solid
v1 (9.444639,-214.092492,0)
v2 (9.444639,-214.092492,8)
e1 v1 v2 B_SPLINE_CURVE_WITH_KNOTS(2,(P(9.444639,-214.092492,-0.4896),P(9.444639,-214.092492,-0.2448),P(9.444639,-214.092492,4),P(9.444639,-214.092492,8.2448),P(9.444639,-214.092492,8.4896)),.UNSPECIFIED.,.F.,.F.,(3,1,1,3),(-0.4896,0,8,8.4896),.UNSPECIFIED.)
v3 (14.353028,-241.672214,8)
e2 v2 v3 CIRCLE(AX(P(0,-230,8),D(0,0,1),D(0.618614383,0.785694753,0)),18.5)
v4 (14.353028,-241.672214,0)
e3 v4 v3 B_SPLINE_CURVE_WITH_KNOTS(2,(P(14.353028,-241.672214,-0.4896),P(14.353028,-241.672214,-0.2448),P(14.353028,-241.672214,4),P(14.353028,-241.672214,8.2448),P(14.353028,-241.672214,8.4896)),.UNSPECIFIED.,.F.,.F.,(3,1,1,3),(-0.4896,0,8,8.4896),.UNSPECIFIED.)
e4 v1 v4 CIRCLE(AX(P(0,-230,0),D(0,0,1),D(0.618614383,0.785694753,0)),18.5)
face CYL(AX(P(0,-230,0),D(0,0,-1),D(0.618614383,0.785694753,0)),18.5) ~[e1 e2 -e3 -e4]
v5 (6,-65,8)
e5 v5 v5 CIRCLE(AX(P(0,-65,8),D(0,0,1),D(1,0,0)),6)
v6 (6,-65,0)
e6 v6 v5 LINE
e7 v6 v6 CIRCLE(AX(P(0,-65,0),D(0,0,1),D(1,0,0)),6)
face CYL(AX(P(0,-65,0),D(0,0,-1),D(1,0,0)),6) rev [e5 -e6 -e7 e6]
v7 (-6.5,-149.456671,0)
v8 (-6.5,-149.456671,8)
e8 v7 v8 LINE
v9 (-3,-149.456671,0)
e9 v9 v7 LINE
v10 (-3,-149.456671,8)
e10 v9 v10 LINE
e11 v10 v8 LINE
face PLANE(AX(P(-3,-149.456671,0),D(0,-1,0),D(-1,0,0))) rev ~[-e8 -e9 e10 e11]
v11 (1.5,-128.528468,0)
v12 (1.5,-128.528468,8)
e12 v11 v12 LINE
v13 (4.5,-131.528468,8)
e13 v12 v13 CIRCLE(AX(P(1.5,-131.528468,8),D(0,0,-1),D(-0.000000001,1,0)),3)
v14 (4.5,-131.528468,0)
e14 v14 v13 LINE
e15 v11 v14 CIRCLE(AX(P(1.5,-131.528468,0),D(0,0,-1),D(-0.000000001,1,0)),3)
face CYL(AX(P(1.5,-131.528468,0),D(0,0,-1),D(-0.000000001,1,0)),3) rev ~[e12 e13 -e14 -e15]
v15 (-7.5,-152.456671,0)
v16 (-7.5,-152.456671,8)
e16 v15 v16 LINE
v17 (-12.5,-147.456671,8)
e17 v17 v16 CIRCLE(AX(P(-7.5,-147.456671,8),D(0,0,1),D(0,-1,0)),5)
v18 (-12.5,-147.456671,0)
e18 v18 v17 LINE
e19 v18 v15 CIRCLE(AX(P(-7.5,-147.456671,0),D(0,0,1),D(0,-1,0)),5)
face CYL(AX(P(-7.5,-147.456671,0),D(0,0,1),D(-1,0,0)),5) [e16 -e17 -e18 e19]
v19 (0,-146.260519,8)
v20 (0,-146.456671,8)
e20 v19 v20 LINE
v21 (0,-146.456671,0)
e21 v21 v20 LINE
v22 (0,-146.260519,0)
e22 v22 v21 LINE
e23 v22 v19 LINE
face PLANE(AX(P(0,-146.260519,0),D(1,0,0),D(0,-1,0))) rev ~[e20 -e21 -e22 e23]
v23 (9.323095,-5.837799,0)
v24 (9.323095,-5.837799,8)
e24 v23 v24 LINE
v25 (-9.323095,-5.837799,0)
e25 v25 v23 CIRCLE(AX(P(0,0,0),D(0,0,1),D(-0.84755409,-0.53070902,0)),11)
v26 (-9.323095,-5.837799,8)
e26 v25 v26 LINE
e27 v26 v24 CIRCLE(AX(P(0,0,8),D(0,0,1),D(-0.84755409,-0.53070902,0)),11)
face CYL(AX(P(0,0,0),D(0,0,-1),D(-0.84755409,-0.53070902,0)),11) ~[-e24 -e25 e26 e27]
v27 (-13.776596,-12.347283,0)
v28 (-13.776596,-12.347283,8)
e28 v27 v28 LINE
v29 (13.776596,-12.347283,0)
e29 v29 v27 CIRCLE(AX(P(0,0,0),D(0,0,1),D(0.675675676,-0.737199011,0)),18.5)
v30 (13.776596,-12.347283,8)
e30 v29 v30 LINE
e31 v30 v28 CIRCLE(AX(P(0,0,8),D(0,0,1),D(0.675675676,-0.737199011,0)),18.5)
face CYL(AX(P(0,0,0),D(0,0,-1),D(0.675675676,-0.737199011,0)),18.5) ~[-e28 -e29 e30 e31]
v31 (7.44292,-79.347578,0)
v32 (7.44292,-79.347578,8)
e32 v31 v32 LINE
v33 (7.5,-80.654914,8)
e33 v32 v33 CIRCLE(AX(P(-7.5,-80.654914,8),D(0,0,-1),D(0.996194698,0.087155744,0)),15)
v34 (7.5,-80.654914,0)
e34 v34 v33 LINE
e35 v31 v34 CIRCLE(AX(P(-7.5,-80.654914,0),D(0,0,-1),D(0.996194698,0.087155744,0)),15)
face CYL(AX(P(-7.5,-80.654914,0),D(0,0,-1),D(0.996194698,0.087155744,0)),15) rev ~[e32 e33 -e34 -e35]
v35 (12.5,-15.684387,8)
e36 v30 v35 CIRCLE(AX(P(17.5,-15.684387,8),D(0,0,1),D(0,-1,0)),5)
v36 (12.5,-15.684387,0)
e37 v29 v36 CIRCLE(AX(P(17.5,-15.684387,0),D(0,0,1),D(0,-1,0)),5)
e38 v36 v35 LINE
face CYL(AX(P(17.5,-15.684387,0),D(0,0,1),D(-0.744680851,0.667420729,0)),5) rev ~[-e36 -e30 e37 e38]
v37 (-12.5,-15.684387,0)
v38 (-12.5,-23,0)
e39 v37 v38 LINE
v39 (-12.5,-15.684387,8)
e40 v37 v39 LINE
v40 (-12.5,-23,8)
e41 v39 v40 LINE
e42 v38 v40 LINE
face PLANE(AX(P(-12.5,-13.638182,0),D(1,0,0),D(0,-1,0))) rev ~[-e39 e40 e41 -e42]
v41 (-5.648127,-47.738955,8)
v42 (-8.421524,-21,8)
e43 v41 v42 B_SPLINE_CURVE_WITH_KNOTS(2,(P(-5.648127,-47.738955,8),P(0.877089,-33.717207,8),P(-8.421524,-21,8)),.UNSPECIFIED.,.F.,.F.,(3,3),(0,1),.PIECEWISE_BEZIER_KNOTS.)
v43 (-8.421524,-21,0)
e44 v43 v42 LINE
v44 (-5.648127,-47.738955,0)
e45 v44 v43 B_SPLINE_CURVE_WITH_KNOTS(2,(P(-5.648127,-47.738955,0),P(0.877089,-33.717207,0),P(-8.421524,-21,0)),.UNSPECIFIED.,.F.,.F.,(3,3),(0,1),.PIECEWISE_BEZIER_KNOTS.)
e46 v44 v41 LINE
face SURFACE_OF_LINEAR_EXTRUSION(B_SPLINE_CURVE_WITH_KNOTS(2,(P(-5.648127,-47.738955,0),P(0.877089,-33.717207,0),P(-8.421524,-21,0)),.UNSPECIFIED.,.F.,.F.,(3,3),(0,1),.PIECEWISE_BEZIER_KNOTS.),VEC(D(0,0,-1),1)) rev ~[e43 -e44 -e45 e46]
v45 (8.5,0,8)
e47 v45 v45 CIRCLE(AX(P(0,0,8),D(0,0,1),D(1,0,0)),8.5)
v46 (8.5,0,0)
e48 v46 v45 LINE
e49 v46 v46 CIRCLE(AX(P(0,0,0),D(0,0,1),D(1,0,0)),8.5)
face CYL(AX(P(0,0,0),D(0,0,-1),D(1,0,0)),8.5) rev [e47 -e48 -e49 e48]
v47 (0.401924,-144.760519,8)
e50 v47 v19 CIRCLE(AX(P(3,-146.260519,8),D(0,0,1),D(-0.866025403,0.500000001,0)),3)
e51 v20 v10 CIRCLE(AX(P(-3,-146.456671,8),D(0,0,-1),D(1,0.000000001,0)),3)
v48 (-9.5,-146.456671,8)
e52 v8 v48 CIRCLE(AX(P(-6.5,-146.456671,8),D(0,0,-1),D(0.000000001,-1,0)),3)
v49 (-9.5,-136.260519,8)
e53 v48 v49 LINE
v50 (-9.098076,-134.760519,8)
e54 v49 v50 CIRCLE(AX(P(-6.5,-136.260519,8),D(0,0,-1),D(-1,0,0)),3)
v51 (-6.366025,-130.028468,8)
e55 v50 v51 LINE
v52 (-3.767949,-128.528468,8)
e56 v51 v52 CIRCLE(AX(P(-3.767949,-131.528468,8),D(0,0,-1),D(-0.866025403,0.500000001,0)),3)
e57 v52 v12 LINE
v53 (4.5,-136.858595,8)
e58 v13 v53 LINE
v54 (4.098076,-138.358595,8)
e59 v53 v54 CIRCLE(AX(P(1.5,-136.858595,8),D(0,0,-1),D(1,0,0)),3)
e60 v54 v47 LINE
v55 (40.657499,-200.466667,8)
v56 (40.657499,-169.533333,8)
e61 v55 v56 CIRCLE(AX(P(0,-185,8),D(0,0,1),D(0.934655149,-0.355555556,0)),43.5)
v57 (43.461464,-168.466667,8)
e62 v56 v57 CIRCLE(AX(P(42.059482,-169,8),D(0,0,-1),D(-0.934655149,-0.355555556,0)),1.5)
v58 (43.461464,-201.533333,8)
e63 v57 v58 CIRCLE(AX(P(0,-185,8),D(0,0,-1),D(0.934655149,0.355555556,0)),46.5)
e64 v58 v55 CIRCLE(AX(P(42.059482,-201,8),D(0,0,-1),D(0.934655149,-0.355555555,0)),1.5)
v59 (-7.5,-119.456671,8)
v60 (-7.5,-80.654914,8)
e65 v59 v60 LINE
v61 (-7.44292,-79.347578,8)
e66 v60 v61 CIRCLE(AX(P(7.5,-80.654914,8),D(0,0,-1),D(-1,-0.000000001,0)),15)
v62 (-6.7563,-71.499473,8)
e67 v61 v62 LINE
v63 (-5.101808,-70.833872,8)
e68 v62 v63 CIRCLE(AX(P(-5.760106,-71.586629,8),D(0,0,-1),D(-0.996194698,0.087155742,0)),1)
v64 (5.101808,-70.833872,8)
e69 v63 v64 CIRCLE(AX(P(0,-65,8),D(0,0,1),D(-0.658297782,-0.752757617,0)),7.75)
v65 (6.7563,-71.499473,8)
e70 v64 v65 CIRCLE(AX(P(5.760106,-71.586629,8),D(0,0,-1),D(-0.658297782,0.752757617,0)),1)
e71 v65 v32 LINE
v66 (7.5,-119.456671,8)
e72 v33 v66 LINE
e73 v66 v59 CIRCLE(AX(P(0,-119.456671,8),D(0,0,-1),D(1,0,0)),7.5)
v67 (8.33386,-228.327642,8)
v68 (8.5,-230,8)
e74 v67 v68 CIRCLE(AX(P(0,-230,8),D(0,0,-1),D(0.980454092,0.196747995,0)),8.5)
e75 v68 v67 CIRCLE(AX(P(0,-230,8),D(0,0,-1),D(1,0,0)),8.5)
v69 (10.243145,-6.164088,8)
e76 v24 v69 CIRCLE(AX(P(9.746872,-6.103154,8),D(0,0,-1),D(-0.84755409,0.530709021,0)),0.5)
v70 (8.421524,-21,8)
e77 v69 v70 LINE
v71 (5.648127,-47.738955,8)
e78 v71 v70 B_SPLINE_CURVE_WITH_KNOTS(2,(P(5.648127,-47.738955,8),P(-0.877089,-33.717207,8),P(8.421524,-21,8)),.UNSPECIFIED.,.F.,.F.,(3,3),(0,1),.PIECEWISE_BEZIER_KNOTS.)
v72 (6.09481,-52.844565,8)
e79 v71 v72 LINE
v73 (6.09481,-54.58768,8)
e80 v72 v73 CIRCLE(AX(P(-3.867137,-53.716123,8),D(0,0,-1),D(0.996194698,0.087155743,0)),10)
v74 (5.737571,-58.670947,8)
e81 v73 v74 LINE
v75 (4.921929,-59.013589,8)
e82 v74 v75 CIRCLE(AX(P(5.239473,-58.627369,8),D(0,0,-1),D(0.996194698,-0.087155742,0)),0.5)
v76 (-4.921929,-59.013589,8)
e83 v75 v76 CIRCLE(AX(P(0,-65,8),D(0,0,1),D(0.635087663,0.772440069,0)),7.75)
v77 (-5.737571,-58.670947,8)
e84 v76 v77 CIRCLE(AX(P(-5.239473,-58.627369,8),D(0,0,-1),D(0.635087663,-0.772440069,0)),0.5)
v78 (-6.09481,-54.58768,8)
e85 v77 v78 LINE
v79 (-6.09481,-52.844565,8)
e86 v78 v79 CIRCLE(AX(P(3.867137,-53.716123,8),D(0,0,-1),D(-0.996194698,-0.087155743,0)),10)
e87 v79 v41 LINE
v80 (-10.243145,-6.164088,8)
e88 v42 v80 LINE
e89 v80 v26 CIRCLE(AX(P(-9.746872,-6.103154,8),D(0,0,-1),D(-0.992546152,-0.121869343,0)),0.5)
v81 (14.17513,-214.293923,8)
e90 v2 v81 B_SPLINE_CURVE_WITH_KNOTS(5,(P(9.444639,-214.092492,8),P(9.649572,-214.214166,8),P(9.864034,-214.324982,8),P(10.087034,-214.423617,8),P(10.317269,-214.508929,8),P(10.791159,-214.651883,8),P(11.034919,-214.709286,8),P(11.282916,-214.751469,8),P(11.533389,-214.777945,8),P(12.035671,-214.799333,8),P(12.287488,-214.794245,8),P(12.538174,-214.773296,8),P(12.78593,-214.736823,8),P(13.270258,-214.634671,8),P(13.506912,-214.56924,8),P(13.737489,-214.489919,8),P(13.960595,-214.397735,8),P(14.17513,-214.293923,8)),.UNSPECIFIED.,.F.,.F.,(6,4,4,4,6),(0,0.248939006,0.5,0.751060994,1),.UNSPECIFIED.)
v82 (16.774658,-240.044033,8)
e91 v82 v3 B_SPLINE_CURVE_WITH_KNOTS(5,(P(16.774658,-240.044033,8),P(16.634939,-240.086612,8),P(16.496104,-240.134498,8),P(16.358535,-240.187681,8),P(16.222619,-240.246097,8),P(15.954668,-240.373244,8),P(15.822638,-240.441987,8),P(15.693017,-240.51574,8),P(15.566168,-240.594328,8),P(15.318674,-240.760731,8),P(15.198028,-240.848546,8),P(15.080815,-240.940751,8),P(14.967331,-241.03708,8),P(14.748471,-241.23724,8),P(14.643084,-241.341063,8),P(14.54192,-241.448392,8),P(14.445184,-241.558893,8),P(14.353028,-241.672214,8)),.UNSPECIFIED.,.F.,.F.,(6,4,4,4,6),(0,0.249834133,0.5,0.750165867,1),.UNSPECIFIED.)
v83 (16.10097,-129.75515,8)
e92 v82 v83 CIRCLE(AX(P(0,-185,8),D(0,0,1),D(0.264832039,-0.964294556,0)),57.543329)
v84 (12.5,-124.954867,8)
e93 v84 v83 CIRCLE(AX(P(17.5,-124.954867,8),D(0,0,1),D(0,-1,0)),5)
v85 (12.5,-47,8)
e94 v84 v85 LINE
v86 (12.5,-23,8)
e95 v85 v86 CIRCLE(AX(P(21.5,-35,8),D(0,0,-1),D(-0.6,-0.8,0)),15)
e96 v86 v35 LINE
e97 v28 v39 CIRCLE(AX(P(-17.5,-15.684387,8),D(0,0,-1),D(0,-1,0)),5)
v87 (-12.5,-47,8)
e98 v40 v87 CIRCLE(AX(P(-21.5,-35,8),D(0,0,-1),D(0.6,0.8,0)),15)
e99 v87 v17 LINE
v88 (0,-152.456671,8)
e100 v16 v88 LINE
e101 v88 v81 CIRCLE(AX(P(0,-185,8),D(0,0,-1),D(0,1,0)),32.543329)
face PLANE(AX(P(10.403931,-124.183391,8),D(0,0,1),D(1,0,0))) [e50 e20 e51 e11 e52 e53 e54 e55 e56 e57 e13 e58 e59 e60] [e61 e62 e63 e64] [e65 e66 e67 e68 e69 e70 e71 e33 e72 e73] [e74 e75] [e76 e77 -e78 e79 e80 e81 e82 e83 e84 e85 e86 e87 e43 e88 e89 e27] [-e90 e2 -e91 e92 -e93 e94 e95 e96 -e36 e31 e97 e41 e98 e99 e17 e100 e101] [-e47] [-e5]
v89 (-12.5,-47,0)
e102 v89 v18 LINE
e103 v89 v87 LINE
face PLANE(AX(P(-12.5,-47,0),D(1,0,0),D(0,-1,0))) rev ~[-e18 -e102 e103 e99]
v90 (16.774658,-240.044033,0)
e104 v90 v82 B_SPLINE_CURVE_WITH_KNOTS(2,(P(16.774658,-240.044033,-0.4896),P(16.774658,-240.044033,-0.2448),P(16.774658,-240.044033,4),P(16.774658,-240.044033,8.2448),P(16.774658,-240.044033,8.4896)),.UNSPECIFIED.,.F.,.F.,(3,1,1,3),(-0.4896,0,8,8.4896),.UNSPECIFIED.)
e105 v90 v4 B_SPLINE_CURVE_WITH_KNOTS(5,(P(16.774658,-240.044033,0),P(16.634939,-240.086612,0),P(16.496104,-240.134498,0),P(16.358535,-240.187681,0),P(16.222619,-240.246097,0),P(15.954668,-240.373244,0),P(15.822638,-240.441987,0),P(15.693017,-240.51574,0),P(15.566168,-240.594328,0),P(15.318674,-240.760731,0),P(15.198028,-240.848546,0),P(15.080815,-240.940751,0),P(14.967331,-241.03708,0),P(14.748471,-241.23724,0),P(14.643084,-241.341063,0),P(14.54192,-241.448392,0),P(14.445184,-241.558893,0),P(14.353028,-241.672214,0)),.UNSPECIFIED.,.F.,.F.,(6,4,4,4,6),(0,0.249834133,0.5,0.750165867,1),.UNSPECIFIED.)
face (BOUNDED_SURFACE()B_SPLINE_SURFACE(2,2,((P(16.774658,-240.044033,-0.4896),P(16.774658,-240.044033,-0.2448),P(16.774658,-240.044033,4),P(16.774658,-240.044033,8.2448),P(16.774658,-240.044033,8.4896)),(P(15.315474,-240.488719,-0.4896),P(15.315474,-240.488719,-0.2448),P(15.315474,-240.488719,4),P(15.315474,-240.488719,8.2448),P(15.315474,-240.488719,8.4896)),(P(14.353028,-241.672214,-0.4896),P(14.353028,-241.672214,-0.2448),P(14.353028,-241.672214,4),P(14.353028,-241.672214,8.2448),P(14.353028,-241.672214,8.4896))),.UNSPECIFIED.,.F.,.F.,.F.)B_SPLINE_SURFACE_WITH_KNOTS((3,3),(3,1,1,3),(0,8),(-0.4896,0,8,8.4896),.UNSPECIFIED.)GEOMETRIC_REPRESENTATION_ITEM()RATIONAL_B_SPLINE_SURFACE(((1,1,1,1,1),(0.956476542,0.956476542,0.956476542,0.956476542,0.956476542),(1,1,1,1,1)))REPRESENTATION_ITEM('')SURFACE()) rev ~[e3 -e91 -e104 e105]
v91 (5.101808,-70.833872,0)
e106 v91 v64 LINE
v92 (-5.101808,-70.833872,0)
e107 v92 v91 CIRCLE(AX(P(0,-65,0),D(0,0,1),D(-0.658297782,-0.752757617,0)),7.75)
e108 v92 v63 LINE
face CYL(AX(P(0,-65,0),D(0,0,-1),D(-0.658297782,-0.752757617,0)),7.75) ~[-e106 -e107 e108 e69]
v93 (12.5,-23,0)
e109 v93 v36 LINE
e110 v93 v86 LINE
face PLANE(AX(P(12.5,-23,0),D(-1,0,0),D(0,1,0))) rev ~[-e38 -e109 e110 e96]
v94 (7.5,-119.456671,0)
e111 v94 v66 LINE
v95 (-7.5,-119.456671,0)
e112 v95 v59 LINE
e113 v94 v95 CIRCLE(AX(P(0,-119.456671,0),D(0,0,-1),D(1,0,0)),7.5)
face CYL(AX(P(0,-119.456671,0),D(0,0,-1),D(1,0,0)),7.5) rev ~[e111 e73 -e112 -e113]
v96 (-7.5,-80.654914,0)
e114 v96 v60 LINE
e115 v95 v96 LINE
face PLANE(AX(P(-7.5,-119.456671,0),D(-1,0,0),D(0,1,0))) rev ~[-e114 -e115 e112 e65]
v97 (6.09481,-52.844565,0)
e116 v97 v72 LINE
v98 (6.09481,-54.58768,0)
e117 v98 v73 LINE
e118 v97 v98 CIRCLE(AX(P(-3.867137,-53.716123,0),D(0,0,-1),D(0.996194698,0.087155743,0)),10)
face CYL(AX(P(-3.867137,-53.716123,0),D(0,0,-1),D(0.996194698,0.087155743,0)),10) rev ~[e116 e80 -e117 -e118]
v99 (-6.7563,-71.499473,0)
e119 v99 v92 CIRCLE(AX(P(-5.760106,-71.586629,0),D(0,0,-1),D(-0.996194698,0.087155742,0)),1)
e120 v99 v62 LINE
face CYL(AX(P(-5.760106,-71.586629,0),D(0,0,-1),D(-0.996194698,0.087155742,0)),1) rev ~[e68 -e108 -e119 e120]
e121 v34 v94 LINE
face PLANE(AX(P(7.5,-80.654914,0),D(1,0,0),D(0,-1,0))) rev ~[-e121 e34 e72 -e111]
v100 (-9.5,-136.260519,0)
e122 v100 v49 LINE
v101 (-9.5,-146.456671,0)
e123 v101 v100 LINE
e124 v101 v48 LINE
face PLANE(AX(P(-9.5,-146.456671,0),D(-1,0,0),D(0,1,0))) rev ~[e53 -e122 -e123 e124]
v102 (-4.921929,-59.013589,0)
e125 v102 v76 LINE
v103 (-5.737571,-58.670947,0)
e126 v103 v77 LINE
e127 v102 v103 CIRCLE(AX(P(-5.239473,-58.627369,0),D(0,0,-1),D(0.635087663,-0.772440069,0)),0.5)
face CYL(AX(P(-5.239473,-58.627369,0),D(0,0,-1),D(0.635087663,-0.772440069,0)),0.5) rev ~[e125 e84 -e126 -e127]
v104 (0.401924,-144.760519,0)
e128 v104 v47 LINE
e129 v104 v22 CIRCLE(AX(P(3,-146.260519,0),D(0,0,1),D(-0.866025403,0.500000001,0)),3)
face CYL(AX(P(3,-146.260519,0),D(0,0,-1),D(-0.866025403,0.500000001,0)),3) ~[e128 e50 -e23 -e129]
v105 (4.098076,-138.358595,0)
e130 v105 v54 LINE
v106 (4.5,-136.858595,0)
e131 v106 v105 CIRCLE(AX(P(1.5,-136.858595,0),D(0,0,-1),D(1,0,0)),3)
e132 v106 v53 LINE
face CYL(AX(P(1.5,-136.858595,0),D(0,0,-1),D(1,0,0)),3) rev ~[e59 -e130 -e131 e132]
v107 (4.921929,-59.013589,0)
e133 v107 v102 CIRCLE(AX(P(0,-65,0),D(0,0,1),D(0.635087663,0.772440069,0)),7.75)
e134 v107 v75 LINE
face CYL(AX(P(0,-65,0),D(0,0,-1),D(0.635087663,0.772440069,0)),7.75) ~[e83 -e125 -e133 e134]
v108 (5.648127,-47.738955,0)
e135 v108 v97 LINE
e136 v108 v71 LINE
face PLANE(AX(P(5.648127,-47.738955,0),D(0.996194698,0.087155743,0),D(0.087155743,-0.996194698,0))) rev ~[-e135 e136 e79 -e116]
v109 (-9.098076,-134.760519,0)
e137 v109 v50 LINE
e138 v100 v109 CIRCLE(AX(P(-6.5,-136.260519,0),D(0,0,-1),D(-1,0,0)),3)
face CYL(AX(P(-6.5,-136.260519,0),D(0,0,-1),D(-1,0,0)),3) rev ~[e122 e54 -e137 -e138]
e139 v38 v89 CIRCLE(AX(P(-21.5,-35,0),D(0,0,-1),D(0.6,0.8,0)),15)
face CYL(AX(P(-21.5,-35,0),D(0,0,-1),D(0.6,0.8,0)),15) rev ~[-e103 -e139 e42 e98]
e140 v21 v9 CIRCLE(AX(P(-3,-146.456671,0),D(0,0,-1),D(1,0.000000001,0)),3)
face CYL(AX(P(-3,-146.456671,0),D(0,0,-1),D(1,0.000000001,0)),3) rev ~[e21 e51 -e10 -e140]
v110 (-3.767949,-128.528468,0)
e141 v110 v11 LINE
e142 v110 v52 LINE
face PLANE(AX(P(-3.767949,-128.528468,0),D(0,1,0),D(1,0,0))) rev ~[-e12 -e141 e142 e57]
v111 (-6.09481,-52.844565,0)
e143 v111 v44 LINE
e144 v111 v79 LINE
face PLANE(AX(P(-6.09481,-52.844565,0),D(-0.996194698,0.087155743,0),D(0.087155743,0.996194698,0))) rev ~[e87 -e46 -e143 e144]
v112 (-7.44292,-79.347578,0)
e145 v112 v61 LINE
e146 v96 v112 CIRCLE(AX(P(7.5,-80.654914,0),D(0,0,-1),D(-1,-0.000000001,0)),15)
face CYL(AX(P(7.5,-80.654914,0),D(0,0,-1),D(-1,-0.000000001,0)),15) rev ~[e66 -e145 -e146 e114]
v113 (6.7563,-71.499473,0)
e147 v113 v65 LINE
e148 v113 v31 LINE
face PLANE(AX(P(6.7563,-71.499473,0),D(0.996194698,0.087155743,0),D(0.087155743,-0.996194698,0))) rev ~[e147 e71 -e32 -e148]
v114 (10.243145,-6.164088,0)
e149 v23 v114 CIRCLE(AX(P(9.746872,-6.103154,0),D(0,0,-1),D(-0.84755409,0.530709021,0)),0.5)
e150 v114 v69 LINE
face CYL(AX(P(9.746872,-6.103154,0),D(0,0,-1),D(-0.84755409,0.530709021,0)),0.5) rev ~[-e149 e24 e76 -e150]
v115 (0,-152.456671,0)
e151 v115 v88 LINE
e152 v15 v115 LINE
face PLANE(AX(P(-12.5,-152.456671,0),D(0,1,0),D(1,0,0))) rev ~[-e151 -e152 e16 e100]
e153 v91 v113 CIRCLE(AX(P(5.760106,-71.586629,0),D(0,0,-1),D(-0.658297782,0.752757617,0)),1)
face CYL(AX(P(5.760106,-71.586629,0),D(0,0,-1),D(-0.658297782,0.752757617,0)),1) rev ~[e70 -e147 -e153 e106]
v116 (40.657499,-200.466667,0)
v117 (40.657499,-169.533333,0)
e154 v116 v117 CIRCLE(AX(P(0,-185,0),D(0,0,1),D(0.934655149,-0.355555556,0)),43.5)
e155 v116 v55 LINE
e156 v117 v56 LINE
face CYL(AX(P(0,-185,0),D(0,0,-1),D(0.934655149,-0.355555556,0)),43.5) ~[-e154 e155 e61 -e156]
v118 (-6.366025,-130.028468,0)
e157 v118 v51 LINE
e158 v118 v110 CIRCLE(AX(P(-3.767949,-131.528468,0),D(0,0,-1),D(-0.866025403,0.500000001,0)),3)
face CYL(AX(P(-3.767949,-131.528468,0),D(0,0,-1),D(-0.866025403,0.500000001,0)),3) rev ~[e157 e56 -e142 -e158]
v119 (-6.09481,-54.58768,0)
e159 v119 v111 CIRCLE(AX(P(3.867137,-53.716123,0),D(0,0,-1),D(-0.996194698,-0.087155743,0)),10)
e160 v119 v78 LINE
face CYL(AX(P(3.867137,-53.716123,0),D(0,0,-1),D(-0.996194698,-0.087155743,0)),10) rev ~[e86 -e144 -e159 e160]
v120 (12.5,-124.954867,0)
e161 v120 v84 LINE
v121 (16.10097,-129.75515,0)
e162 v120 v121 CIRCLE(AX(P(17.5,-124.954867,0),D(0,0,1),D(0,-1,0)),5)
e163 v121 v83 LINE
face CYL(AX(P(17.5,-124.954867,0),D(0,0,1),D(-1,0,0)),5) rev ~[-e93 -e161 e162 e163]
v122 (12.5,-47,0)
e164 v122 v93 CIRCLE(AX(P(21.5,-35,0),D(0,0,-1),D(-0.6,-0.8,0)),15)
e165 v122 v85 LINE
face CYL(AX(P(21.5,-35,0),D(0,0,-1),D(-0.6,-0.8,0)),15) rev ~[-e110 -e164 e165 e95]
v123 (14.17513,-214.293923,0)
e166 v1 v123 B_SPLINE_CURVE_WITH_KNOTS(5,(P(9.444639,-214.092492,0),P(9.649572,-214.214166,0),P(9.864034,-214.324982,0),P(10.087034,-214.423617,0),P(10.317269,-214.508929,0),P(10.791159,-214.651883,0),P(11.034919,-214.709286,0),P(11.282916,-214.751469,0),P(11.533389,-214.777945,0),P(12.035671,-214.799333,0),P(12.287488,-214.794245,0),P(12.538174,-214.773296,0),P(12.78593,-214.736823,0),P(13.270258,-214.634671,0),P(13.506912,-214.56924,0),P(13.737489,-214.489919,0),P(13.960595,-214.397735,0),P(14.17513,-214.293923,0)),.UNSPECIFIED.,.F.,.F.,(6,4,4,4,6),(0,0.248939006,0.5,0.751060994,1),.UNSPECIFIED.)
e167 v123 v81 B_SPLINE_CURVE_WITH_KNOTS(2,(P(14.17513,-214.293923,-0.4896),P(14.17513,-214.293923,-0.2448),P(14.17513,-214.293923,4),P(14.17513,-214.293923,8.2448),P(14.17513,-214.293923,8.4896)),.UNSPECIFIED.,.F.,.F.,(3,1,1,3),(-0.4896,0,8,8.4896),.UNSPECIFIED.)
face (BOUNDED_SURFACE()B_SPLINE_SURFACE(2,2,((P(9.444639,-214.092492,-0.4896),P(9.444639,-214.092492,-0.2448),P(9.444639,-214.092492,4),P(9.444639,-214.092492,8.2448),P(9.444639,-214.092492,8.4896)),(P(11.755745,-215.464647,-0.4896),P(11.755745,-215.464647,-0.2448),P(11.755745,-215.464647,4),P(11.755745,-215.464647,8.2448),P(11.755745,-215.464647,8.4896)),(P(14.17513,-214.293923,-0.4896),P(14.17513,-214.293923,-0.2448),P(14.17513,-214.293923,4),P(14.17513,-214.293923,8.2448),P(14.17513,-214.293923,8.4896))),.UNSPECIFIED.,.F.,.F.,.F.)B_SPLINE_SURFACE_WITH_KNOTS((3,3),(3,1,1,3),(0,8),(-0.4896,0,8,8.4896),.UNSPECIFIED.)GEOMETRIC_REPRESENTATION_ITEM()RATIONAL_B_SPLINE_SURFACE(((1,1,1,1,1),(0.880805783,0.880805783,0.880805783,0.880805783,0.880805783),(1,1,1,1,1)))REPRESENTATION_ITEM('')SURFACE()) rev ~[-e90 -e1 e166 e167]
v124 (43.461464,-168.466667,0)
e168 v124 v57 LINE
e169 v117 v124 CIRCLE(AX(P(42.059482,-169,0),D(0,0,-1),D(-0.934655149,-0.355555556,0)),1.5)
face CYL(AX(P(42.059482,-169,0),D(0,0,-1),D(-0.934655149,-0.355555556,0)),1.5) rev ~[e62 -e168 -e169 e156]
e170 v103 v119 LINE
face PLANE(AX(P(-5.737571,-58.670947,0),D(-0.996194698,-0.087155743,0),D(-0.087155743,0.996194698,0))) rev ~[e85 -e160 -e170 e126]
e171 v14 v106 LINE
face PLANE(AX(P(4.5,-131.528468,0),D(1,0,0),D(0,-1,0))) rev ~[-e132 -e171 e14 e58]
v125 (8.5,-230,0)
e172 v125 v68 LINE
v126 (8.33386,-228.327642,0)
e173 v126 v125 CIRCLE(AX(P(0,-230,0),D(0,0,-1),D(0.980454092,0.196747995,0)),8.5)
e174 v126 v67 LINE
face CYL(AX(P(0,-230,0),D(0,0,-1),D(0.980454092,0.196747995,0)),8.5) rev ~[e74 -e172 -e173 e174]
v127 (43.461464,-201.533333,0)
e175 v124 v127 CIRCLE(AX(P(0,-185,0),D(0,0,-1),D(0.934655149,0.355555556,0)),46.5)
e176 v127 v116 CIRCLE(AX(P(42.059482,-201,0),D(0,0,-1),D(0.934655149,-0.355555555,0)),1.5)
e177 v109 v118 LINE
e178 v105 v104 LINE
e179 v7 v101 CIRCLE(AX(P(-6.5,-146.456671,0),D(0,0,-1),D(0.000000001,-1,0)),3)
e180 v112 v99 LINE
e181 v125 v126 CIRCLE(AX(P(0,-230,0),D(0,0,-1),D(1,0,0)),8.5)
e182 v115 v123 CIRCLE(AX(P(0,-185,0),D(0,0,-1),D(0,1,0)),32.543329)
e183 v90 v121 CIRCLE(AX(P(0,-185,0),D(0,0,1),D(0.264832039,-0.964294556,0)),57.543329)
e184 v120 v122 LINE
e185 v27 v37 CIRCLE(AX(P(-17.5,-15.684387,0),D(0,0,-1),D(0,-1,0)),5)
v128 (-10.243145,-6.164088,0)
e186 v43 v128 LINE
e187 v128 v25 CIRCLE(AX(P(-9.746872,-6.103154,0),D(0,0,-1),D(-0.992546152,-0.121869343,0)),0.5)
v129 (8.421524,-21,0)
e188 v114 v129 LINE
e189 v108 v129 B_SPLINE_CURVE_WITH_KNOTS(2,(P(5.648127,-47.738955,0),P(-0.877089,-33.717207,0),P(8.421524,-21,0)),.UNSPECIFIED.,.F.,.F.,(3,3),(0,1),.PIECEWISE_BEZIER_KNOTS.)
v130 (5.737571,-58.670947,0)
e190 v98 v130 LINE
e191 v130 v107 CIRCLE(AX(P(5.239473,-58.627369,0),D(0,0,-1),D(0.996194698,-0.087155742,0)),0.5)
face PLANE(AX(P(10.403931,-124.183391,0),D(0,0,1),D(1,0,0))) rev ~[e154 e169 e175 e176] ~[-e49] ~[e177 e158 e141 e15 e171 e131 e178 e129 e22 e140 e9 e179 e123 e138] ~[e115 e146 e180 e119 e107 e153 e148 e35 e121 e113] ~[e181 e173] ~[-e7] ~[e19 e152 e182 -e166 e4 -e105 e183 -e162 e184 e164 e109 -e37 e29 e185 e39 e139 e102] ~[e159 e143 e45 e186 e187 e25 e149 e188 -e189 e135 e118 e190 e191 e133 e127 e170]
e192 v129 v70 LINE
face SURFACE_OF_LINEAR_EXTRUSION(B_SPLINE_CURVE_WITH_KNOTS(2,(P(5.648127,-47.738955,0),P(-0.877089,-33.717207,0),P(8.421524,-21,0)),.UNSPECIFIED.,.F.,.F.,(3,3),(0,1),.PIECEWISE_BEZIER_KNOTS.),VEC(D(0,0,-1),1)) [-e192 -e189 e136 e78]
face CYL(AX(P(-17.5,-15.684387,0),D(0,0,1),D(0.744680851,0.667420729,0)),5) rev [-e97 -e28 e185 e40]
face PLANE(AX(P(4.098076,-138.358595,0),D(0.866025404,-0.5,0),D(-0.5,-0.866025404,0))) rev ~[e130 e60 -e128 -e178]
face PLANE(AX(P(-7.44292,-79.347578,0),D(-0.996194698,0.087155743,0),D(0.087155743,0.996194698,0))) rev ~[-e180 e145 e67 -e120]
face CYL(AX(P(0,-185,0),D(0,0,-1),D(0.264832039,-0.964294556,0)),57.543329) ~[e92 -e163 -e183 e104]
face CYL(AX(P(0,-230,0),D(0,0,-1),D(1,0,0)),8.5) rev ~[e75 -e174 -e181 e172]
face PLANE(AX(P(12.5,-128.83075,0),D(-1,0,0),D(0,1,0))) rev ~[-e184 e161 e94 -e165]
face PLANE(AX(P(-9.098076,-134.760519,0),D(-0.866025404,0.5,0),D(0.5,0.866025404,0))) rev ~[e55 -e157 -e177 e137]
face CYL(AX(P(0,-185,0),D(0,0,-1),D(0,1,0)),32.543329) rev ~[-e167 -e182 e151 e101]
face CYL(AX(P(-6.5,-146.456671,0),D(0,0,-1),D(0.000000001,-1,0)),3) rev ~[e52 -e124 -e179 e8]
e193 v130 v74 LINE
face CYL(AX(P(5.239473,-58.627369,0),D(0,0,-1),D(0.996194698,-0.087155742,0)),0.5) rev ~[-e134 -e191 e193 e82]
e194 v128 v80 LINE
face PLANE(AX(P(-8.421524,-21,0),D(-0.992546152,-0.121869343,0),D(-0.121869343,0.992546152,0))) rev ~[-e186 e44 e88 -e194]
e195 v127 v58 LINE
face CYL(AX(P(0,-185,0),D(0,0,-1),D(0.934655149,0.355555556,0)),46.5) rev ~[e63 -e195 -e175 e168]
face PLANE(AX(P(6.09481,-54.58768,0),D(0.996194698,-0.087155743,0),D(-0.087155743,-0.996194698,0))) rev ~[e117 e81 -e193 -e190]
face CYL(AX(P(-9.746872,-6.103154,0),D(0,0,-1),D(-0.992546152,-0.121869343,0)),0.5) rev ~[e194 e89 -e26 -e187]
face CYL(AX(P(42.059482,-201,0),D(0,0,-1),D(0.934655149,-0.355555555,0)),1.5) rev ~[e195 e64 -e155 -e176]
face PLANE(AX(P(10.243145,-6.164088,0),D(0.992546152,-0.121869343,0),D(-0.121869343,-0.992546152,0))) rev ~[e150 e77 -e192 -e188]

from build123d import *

# Parameters (mm, degrees)
SKETCH1_R           = 6
SKETCH1_R_2         = 8.5
BOSS_EXTRUDE1_DEPTH = 8
FILLET1_R           = 5


with BuildPart() as part:
    # Sketch1 → Boss-Extrude1 (new body)
    with BuildSketch(Plane.XY):
        with BuildLine():
            ThreePointArc((12.5, -13.638181697), (0, 18.5), (-12.5, -13.638181697))
            Line((-12.5, -13.638181697), (-12.5, -23))
            ThreePointArc((-12.5, -23), (-6.5, -35), (-12.5, -47))
            Line((-12.5, -47), (-12.5, -152.456671403))
            Line((-12.5, -152.456671403), (0, -152.456671403))
            ThreePointArc((0, -152.456671403), (32.019441409, -179.184193262), (11.444366088, -215.464647068))
            ThreePointArc((11.444366088, -215.464647068), (-18.29086587, -232.773846738), (15.239317045, -240.488718511))
            ThreePointArc((15.239317045, -240.488718511), (57.52601951, -183.58870793), (12.5, -128.830749818))
            Line((12.5, -128.830749818), (12.5, -47))
            ThreePointArc((12.5, -47), (6.5, -35), (12.5, -23))
            Line((12.5, -23), (12.5, -13.638181697))
        make_face()
        with BuildLine():
            ThreePointArc((8.333859781, -228.327642037), (8.458362966, -229.159704854), (8.5, -230))
            ThreePointArc((8.5, -230), (-8.458362966, -230.840295146), (8.333859781, -228.327642037))
        make_face(mode=Mode.SUBTRACT)
        with BuildLine():
            ThreePointArc((0, -146.456671403), (-0.878679656, -148.577991747), (-3, -149.456671403))
            Line((-3, -149.456671403), (-6.5, -149.456671403))
            ThreePointArc((-6.5, -149.456671403), (-8.621320344, -148.577991747), (-9.5, -146.456671403))
            Line((-9.5, -146.456671403), (-9.5, -136.26051898))
            ThreePointArc((-9.5, -136.26051898), (-9.397777479, -135.484061845), (-9.098076211, -134.76051898))
            Line((-9.098076211, -134.76051898), (-6.366025404, -130.028468173))
            ThreePointArc((-6.366025404, -130.028468173), (-5.267949192, -128.930391962), (-3.767949192, -128.528468173))
            Line((-3.767949192, -128.528468173), (1.5, -128.528468173))
            ThreePointArc((1.5, -128.528468173), (3.621320344, -129.407147829), (4.5, -131.528468173))
            Line((4.5, -131.528468173), (4.5, -136.858595192))
            ThreePointArc((4.5, -136.858595192), (4.397777479, -137.635052327), (4.098076211, -138.358595192))
            Line((4.098076211, -138.358595192), (0.401923789, -144.76051898))
            ThreePointArc((0.401923789, -144.76051898), (0.102222521, -145.484061845), (0, -146.26051898))
            Line((0, -146.26051898), (0, -146.456671403))
        make_face(mode=Mode.SUBTRACT)
        with BuildLine():
            ThreePointArc((43.461464413, -168.466666667), (46.5, -185), (43.461464413, -201.533333333))
            ThreePointArc((43.461464413, -201.533333333), (41.526148356, -202.401982723), (40.657498967, -200.466666667))
            ThreePointArc((40.657498967, -200.466666667), (43.5, -185), (40.657498967, -169.533333333))
            ThreePointArc((40.657498967, -169.533333333), (41.526148356, -167.598017277), (43.461464413, -168.466666667))
        make_face(mode=Mode.SUBTRACT)
        with BuildLine():
            ThreePointArc((7.5, -119.456671403), (0, -126.956671403), (-7.5, -119.456671403))
            Line((-7.5, -119.456671403), (-7.5, -80.654914144))
            ThreePointArc((-7.5, -80.654914144), (-7.485723324, -80.000623333), (-7.442920471, -79.347578002))
            Line((-7.442920471, -79.347578002), (-6.756300289, -71.499473409))
            ThreePointArc((-6.756300289, -71.499473409), (-6.133334804, -70.658889988), (-5.101807809, -70.833871534))
            ThreePointArc((-5.101807809, -70.833871534), (0, -72.75), (5.101807809, -70.833871534))
            ThreePointArc((5.101807809, -70.833871534), (6.133334804, -70.658889988), (6.756300289, -71.499473409))
            Line((6.756300289, -71.499473409), (7.442920471, -79.347578002))
            ThreePointArc((7.442920471, -79.347578002), (7.485723324, -80.000623333), (7.5, -80.654914144))
            Line((7.5, -80.654914144), (7.5, -119.456671403))
        make_face(mode=Mode.SUBTRACT)
        with Locations((0, -65)):
            Circle(SKETCH1_R, mode=Mode.SUBTRACT)
        with BuildLine():
            Line((-8.421524221, -21), (-10.243145112, -6.164088407))
            ThreePointArc((-10.243145112, -6.164088407), (-9.913994973, -5.631910779), (-9.323094991, -5.837799225))
            ThreePointArc((-9.323094991, -5.837799225), (0, -11), (9.323094991, -5.837799225))
            ThreePointArc((9.323094991, -5.837799225), (9.913994973, -5.631910779), (10.243145112, -6.164088407))
            Line((10.243145112, -6.164088407), (8.421524221, -21))
            add(Edge.make_bspline(
                [(5.648127088, -47.738954624), (-0.877088936, -33.717206836), (8.421524221, -21)],
                knots=[0, 0, 0, 1, 1, 1], degree=2))
            Line((5.648127088, -47.738954624), (6.09481015, -52.844565385))
            ThreePointArc((6.09481015, -52.844565385), (6.132863169, -53.716122812), (6.09481015, -54.58768024))
            Line((6.09481015, -54.58768024), (5.737570571, -58.670947304))
            ThreePointArc((5.737570571, -58.670947304), (5.433124471, -59.088345781), (4.921929391, -59.013589467))
            ThreePointArc((4.921929391, -59.013589467), (0, -57.25), (-4.921929391, -59.013589467))
            ThreePointArc((-4.921929391, -59.013589467), (-5.433124471, -59.088345781), (-5.737570571, -58.670947304))
            Line((-5.737570571, -58.670947304), (-6.09481015, -54.58768024))
            ThreePointArc((-6.09481015, -54.58768024), (-6.132863169, -53.716122812), (-6.09481015, -52.844565385))
            Line((-6.09481015, -52.844565385), (-5.648127088, -47.738954624))
            add(Edge.make_bspline(
                [(-5.648127088, -47.738954624), (0.877088936, -33.717206836), (-8.421524221, -21)],
                knots=[0, 0, 0, 1, 1, 1], degree=2))
        make_face(mode=Mode.SUBTRACT)
        Circle(SKETCH1_R_2, mode=Mode.SUBTRACT)
    extrude(amount=BOSS_EXTRUDE1_DEPTH)

    # Fillet1
    fillet1_edges = [part.edges().sort_by_distance(p)[0] for p in [
        (11.444366088, -215.464647068, 4),
        (-12.5, -152.456671403, 4),
        (-12.5, -13.638181697, 4),
        (12.5, -13.638181697, 4),
        (12.5, -128.830749818, 4),
        (15.239317045, -240.488718511, 4),
    ]]
    fillet(fillet1_edges, radius=FILLET1_R)


solid = part.part
